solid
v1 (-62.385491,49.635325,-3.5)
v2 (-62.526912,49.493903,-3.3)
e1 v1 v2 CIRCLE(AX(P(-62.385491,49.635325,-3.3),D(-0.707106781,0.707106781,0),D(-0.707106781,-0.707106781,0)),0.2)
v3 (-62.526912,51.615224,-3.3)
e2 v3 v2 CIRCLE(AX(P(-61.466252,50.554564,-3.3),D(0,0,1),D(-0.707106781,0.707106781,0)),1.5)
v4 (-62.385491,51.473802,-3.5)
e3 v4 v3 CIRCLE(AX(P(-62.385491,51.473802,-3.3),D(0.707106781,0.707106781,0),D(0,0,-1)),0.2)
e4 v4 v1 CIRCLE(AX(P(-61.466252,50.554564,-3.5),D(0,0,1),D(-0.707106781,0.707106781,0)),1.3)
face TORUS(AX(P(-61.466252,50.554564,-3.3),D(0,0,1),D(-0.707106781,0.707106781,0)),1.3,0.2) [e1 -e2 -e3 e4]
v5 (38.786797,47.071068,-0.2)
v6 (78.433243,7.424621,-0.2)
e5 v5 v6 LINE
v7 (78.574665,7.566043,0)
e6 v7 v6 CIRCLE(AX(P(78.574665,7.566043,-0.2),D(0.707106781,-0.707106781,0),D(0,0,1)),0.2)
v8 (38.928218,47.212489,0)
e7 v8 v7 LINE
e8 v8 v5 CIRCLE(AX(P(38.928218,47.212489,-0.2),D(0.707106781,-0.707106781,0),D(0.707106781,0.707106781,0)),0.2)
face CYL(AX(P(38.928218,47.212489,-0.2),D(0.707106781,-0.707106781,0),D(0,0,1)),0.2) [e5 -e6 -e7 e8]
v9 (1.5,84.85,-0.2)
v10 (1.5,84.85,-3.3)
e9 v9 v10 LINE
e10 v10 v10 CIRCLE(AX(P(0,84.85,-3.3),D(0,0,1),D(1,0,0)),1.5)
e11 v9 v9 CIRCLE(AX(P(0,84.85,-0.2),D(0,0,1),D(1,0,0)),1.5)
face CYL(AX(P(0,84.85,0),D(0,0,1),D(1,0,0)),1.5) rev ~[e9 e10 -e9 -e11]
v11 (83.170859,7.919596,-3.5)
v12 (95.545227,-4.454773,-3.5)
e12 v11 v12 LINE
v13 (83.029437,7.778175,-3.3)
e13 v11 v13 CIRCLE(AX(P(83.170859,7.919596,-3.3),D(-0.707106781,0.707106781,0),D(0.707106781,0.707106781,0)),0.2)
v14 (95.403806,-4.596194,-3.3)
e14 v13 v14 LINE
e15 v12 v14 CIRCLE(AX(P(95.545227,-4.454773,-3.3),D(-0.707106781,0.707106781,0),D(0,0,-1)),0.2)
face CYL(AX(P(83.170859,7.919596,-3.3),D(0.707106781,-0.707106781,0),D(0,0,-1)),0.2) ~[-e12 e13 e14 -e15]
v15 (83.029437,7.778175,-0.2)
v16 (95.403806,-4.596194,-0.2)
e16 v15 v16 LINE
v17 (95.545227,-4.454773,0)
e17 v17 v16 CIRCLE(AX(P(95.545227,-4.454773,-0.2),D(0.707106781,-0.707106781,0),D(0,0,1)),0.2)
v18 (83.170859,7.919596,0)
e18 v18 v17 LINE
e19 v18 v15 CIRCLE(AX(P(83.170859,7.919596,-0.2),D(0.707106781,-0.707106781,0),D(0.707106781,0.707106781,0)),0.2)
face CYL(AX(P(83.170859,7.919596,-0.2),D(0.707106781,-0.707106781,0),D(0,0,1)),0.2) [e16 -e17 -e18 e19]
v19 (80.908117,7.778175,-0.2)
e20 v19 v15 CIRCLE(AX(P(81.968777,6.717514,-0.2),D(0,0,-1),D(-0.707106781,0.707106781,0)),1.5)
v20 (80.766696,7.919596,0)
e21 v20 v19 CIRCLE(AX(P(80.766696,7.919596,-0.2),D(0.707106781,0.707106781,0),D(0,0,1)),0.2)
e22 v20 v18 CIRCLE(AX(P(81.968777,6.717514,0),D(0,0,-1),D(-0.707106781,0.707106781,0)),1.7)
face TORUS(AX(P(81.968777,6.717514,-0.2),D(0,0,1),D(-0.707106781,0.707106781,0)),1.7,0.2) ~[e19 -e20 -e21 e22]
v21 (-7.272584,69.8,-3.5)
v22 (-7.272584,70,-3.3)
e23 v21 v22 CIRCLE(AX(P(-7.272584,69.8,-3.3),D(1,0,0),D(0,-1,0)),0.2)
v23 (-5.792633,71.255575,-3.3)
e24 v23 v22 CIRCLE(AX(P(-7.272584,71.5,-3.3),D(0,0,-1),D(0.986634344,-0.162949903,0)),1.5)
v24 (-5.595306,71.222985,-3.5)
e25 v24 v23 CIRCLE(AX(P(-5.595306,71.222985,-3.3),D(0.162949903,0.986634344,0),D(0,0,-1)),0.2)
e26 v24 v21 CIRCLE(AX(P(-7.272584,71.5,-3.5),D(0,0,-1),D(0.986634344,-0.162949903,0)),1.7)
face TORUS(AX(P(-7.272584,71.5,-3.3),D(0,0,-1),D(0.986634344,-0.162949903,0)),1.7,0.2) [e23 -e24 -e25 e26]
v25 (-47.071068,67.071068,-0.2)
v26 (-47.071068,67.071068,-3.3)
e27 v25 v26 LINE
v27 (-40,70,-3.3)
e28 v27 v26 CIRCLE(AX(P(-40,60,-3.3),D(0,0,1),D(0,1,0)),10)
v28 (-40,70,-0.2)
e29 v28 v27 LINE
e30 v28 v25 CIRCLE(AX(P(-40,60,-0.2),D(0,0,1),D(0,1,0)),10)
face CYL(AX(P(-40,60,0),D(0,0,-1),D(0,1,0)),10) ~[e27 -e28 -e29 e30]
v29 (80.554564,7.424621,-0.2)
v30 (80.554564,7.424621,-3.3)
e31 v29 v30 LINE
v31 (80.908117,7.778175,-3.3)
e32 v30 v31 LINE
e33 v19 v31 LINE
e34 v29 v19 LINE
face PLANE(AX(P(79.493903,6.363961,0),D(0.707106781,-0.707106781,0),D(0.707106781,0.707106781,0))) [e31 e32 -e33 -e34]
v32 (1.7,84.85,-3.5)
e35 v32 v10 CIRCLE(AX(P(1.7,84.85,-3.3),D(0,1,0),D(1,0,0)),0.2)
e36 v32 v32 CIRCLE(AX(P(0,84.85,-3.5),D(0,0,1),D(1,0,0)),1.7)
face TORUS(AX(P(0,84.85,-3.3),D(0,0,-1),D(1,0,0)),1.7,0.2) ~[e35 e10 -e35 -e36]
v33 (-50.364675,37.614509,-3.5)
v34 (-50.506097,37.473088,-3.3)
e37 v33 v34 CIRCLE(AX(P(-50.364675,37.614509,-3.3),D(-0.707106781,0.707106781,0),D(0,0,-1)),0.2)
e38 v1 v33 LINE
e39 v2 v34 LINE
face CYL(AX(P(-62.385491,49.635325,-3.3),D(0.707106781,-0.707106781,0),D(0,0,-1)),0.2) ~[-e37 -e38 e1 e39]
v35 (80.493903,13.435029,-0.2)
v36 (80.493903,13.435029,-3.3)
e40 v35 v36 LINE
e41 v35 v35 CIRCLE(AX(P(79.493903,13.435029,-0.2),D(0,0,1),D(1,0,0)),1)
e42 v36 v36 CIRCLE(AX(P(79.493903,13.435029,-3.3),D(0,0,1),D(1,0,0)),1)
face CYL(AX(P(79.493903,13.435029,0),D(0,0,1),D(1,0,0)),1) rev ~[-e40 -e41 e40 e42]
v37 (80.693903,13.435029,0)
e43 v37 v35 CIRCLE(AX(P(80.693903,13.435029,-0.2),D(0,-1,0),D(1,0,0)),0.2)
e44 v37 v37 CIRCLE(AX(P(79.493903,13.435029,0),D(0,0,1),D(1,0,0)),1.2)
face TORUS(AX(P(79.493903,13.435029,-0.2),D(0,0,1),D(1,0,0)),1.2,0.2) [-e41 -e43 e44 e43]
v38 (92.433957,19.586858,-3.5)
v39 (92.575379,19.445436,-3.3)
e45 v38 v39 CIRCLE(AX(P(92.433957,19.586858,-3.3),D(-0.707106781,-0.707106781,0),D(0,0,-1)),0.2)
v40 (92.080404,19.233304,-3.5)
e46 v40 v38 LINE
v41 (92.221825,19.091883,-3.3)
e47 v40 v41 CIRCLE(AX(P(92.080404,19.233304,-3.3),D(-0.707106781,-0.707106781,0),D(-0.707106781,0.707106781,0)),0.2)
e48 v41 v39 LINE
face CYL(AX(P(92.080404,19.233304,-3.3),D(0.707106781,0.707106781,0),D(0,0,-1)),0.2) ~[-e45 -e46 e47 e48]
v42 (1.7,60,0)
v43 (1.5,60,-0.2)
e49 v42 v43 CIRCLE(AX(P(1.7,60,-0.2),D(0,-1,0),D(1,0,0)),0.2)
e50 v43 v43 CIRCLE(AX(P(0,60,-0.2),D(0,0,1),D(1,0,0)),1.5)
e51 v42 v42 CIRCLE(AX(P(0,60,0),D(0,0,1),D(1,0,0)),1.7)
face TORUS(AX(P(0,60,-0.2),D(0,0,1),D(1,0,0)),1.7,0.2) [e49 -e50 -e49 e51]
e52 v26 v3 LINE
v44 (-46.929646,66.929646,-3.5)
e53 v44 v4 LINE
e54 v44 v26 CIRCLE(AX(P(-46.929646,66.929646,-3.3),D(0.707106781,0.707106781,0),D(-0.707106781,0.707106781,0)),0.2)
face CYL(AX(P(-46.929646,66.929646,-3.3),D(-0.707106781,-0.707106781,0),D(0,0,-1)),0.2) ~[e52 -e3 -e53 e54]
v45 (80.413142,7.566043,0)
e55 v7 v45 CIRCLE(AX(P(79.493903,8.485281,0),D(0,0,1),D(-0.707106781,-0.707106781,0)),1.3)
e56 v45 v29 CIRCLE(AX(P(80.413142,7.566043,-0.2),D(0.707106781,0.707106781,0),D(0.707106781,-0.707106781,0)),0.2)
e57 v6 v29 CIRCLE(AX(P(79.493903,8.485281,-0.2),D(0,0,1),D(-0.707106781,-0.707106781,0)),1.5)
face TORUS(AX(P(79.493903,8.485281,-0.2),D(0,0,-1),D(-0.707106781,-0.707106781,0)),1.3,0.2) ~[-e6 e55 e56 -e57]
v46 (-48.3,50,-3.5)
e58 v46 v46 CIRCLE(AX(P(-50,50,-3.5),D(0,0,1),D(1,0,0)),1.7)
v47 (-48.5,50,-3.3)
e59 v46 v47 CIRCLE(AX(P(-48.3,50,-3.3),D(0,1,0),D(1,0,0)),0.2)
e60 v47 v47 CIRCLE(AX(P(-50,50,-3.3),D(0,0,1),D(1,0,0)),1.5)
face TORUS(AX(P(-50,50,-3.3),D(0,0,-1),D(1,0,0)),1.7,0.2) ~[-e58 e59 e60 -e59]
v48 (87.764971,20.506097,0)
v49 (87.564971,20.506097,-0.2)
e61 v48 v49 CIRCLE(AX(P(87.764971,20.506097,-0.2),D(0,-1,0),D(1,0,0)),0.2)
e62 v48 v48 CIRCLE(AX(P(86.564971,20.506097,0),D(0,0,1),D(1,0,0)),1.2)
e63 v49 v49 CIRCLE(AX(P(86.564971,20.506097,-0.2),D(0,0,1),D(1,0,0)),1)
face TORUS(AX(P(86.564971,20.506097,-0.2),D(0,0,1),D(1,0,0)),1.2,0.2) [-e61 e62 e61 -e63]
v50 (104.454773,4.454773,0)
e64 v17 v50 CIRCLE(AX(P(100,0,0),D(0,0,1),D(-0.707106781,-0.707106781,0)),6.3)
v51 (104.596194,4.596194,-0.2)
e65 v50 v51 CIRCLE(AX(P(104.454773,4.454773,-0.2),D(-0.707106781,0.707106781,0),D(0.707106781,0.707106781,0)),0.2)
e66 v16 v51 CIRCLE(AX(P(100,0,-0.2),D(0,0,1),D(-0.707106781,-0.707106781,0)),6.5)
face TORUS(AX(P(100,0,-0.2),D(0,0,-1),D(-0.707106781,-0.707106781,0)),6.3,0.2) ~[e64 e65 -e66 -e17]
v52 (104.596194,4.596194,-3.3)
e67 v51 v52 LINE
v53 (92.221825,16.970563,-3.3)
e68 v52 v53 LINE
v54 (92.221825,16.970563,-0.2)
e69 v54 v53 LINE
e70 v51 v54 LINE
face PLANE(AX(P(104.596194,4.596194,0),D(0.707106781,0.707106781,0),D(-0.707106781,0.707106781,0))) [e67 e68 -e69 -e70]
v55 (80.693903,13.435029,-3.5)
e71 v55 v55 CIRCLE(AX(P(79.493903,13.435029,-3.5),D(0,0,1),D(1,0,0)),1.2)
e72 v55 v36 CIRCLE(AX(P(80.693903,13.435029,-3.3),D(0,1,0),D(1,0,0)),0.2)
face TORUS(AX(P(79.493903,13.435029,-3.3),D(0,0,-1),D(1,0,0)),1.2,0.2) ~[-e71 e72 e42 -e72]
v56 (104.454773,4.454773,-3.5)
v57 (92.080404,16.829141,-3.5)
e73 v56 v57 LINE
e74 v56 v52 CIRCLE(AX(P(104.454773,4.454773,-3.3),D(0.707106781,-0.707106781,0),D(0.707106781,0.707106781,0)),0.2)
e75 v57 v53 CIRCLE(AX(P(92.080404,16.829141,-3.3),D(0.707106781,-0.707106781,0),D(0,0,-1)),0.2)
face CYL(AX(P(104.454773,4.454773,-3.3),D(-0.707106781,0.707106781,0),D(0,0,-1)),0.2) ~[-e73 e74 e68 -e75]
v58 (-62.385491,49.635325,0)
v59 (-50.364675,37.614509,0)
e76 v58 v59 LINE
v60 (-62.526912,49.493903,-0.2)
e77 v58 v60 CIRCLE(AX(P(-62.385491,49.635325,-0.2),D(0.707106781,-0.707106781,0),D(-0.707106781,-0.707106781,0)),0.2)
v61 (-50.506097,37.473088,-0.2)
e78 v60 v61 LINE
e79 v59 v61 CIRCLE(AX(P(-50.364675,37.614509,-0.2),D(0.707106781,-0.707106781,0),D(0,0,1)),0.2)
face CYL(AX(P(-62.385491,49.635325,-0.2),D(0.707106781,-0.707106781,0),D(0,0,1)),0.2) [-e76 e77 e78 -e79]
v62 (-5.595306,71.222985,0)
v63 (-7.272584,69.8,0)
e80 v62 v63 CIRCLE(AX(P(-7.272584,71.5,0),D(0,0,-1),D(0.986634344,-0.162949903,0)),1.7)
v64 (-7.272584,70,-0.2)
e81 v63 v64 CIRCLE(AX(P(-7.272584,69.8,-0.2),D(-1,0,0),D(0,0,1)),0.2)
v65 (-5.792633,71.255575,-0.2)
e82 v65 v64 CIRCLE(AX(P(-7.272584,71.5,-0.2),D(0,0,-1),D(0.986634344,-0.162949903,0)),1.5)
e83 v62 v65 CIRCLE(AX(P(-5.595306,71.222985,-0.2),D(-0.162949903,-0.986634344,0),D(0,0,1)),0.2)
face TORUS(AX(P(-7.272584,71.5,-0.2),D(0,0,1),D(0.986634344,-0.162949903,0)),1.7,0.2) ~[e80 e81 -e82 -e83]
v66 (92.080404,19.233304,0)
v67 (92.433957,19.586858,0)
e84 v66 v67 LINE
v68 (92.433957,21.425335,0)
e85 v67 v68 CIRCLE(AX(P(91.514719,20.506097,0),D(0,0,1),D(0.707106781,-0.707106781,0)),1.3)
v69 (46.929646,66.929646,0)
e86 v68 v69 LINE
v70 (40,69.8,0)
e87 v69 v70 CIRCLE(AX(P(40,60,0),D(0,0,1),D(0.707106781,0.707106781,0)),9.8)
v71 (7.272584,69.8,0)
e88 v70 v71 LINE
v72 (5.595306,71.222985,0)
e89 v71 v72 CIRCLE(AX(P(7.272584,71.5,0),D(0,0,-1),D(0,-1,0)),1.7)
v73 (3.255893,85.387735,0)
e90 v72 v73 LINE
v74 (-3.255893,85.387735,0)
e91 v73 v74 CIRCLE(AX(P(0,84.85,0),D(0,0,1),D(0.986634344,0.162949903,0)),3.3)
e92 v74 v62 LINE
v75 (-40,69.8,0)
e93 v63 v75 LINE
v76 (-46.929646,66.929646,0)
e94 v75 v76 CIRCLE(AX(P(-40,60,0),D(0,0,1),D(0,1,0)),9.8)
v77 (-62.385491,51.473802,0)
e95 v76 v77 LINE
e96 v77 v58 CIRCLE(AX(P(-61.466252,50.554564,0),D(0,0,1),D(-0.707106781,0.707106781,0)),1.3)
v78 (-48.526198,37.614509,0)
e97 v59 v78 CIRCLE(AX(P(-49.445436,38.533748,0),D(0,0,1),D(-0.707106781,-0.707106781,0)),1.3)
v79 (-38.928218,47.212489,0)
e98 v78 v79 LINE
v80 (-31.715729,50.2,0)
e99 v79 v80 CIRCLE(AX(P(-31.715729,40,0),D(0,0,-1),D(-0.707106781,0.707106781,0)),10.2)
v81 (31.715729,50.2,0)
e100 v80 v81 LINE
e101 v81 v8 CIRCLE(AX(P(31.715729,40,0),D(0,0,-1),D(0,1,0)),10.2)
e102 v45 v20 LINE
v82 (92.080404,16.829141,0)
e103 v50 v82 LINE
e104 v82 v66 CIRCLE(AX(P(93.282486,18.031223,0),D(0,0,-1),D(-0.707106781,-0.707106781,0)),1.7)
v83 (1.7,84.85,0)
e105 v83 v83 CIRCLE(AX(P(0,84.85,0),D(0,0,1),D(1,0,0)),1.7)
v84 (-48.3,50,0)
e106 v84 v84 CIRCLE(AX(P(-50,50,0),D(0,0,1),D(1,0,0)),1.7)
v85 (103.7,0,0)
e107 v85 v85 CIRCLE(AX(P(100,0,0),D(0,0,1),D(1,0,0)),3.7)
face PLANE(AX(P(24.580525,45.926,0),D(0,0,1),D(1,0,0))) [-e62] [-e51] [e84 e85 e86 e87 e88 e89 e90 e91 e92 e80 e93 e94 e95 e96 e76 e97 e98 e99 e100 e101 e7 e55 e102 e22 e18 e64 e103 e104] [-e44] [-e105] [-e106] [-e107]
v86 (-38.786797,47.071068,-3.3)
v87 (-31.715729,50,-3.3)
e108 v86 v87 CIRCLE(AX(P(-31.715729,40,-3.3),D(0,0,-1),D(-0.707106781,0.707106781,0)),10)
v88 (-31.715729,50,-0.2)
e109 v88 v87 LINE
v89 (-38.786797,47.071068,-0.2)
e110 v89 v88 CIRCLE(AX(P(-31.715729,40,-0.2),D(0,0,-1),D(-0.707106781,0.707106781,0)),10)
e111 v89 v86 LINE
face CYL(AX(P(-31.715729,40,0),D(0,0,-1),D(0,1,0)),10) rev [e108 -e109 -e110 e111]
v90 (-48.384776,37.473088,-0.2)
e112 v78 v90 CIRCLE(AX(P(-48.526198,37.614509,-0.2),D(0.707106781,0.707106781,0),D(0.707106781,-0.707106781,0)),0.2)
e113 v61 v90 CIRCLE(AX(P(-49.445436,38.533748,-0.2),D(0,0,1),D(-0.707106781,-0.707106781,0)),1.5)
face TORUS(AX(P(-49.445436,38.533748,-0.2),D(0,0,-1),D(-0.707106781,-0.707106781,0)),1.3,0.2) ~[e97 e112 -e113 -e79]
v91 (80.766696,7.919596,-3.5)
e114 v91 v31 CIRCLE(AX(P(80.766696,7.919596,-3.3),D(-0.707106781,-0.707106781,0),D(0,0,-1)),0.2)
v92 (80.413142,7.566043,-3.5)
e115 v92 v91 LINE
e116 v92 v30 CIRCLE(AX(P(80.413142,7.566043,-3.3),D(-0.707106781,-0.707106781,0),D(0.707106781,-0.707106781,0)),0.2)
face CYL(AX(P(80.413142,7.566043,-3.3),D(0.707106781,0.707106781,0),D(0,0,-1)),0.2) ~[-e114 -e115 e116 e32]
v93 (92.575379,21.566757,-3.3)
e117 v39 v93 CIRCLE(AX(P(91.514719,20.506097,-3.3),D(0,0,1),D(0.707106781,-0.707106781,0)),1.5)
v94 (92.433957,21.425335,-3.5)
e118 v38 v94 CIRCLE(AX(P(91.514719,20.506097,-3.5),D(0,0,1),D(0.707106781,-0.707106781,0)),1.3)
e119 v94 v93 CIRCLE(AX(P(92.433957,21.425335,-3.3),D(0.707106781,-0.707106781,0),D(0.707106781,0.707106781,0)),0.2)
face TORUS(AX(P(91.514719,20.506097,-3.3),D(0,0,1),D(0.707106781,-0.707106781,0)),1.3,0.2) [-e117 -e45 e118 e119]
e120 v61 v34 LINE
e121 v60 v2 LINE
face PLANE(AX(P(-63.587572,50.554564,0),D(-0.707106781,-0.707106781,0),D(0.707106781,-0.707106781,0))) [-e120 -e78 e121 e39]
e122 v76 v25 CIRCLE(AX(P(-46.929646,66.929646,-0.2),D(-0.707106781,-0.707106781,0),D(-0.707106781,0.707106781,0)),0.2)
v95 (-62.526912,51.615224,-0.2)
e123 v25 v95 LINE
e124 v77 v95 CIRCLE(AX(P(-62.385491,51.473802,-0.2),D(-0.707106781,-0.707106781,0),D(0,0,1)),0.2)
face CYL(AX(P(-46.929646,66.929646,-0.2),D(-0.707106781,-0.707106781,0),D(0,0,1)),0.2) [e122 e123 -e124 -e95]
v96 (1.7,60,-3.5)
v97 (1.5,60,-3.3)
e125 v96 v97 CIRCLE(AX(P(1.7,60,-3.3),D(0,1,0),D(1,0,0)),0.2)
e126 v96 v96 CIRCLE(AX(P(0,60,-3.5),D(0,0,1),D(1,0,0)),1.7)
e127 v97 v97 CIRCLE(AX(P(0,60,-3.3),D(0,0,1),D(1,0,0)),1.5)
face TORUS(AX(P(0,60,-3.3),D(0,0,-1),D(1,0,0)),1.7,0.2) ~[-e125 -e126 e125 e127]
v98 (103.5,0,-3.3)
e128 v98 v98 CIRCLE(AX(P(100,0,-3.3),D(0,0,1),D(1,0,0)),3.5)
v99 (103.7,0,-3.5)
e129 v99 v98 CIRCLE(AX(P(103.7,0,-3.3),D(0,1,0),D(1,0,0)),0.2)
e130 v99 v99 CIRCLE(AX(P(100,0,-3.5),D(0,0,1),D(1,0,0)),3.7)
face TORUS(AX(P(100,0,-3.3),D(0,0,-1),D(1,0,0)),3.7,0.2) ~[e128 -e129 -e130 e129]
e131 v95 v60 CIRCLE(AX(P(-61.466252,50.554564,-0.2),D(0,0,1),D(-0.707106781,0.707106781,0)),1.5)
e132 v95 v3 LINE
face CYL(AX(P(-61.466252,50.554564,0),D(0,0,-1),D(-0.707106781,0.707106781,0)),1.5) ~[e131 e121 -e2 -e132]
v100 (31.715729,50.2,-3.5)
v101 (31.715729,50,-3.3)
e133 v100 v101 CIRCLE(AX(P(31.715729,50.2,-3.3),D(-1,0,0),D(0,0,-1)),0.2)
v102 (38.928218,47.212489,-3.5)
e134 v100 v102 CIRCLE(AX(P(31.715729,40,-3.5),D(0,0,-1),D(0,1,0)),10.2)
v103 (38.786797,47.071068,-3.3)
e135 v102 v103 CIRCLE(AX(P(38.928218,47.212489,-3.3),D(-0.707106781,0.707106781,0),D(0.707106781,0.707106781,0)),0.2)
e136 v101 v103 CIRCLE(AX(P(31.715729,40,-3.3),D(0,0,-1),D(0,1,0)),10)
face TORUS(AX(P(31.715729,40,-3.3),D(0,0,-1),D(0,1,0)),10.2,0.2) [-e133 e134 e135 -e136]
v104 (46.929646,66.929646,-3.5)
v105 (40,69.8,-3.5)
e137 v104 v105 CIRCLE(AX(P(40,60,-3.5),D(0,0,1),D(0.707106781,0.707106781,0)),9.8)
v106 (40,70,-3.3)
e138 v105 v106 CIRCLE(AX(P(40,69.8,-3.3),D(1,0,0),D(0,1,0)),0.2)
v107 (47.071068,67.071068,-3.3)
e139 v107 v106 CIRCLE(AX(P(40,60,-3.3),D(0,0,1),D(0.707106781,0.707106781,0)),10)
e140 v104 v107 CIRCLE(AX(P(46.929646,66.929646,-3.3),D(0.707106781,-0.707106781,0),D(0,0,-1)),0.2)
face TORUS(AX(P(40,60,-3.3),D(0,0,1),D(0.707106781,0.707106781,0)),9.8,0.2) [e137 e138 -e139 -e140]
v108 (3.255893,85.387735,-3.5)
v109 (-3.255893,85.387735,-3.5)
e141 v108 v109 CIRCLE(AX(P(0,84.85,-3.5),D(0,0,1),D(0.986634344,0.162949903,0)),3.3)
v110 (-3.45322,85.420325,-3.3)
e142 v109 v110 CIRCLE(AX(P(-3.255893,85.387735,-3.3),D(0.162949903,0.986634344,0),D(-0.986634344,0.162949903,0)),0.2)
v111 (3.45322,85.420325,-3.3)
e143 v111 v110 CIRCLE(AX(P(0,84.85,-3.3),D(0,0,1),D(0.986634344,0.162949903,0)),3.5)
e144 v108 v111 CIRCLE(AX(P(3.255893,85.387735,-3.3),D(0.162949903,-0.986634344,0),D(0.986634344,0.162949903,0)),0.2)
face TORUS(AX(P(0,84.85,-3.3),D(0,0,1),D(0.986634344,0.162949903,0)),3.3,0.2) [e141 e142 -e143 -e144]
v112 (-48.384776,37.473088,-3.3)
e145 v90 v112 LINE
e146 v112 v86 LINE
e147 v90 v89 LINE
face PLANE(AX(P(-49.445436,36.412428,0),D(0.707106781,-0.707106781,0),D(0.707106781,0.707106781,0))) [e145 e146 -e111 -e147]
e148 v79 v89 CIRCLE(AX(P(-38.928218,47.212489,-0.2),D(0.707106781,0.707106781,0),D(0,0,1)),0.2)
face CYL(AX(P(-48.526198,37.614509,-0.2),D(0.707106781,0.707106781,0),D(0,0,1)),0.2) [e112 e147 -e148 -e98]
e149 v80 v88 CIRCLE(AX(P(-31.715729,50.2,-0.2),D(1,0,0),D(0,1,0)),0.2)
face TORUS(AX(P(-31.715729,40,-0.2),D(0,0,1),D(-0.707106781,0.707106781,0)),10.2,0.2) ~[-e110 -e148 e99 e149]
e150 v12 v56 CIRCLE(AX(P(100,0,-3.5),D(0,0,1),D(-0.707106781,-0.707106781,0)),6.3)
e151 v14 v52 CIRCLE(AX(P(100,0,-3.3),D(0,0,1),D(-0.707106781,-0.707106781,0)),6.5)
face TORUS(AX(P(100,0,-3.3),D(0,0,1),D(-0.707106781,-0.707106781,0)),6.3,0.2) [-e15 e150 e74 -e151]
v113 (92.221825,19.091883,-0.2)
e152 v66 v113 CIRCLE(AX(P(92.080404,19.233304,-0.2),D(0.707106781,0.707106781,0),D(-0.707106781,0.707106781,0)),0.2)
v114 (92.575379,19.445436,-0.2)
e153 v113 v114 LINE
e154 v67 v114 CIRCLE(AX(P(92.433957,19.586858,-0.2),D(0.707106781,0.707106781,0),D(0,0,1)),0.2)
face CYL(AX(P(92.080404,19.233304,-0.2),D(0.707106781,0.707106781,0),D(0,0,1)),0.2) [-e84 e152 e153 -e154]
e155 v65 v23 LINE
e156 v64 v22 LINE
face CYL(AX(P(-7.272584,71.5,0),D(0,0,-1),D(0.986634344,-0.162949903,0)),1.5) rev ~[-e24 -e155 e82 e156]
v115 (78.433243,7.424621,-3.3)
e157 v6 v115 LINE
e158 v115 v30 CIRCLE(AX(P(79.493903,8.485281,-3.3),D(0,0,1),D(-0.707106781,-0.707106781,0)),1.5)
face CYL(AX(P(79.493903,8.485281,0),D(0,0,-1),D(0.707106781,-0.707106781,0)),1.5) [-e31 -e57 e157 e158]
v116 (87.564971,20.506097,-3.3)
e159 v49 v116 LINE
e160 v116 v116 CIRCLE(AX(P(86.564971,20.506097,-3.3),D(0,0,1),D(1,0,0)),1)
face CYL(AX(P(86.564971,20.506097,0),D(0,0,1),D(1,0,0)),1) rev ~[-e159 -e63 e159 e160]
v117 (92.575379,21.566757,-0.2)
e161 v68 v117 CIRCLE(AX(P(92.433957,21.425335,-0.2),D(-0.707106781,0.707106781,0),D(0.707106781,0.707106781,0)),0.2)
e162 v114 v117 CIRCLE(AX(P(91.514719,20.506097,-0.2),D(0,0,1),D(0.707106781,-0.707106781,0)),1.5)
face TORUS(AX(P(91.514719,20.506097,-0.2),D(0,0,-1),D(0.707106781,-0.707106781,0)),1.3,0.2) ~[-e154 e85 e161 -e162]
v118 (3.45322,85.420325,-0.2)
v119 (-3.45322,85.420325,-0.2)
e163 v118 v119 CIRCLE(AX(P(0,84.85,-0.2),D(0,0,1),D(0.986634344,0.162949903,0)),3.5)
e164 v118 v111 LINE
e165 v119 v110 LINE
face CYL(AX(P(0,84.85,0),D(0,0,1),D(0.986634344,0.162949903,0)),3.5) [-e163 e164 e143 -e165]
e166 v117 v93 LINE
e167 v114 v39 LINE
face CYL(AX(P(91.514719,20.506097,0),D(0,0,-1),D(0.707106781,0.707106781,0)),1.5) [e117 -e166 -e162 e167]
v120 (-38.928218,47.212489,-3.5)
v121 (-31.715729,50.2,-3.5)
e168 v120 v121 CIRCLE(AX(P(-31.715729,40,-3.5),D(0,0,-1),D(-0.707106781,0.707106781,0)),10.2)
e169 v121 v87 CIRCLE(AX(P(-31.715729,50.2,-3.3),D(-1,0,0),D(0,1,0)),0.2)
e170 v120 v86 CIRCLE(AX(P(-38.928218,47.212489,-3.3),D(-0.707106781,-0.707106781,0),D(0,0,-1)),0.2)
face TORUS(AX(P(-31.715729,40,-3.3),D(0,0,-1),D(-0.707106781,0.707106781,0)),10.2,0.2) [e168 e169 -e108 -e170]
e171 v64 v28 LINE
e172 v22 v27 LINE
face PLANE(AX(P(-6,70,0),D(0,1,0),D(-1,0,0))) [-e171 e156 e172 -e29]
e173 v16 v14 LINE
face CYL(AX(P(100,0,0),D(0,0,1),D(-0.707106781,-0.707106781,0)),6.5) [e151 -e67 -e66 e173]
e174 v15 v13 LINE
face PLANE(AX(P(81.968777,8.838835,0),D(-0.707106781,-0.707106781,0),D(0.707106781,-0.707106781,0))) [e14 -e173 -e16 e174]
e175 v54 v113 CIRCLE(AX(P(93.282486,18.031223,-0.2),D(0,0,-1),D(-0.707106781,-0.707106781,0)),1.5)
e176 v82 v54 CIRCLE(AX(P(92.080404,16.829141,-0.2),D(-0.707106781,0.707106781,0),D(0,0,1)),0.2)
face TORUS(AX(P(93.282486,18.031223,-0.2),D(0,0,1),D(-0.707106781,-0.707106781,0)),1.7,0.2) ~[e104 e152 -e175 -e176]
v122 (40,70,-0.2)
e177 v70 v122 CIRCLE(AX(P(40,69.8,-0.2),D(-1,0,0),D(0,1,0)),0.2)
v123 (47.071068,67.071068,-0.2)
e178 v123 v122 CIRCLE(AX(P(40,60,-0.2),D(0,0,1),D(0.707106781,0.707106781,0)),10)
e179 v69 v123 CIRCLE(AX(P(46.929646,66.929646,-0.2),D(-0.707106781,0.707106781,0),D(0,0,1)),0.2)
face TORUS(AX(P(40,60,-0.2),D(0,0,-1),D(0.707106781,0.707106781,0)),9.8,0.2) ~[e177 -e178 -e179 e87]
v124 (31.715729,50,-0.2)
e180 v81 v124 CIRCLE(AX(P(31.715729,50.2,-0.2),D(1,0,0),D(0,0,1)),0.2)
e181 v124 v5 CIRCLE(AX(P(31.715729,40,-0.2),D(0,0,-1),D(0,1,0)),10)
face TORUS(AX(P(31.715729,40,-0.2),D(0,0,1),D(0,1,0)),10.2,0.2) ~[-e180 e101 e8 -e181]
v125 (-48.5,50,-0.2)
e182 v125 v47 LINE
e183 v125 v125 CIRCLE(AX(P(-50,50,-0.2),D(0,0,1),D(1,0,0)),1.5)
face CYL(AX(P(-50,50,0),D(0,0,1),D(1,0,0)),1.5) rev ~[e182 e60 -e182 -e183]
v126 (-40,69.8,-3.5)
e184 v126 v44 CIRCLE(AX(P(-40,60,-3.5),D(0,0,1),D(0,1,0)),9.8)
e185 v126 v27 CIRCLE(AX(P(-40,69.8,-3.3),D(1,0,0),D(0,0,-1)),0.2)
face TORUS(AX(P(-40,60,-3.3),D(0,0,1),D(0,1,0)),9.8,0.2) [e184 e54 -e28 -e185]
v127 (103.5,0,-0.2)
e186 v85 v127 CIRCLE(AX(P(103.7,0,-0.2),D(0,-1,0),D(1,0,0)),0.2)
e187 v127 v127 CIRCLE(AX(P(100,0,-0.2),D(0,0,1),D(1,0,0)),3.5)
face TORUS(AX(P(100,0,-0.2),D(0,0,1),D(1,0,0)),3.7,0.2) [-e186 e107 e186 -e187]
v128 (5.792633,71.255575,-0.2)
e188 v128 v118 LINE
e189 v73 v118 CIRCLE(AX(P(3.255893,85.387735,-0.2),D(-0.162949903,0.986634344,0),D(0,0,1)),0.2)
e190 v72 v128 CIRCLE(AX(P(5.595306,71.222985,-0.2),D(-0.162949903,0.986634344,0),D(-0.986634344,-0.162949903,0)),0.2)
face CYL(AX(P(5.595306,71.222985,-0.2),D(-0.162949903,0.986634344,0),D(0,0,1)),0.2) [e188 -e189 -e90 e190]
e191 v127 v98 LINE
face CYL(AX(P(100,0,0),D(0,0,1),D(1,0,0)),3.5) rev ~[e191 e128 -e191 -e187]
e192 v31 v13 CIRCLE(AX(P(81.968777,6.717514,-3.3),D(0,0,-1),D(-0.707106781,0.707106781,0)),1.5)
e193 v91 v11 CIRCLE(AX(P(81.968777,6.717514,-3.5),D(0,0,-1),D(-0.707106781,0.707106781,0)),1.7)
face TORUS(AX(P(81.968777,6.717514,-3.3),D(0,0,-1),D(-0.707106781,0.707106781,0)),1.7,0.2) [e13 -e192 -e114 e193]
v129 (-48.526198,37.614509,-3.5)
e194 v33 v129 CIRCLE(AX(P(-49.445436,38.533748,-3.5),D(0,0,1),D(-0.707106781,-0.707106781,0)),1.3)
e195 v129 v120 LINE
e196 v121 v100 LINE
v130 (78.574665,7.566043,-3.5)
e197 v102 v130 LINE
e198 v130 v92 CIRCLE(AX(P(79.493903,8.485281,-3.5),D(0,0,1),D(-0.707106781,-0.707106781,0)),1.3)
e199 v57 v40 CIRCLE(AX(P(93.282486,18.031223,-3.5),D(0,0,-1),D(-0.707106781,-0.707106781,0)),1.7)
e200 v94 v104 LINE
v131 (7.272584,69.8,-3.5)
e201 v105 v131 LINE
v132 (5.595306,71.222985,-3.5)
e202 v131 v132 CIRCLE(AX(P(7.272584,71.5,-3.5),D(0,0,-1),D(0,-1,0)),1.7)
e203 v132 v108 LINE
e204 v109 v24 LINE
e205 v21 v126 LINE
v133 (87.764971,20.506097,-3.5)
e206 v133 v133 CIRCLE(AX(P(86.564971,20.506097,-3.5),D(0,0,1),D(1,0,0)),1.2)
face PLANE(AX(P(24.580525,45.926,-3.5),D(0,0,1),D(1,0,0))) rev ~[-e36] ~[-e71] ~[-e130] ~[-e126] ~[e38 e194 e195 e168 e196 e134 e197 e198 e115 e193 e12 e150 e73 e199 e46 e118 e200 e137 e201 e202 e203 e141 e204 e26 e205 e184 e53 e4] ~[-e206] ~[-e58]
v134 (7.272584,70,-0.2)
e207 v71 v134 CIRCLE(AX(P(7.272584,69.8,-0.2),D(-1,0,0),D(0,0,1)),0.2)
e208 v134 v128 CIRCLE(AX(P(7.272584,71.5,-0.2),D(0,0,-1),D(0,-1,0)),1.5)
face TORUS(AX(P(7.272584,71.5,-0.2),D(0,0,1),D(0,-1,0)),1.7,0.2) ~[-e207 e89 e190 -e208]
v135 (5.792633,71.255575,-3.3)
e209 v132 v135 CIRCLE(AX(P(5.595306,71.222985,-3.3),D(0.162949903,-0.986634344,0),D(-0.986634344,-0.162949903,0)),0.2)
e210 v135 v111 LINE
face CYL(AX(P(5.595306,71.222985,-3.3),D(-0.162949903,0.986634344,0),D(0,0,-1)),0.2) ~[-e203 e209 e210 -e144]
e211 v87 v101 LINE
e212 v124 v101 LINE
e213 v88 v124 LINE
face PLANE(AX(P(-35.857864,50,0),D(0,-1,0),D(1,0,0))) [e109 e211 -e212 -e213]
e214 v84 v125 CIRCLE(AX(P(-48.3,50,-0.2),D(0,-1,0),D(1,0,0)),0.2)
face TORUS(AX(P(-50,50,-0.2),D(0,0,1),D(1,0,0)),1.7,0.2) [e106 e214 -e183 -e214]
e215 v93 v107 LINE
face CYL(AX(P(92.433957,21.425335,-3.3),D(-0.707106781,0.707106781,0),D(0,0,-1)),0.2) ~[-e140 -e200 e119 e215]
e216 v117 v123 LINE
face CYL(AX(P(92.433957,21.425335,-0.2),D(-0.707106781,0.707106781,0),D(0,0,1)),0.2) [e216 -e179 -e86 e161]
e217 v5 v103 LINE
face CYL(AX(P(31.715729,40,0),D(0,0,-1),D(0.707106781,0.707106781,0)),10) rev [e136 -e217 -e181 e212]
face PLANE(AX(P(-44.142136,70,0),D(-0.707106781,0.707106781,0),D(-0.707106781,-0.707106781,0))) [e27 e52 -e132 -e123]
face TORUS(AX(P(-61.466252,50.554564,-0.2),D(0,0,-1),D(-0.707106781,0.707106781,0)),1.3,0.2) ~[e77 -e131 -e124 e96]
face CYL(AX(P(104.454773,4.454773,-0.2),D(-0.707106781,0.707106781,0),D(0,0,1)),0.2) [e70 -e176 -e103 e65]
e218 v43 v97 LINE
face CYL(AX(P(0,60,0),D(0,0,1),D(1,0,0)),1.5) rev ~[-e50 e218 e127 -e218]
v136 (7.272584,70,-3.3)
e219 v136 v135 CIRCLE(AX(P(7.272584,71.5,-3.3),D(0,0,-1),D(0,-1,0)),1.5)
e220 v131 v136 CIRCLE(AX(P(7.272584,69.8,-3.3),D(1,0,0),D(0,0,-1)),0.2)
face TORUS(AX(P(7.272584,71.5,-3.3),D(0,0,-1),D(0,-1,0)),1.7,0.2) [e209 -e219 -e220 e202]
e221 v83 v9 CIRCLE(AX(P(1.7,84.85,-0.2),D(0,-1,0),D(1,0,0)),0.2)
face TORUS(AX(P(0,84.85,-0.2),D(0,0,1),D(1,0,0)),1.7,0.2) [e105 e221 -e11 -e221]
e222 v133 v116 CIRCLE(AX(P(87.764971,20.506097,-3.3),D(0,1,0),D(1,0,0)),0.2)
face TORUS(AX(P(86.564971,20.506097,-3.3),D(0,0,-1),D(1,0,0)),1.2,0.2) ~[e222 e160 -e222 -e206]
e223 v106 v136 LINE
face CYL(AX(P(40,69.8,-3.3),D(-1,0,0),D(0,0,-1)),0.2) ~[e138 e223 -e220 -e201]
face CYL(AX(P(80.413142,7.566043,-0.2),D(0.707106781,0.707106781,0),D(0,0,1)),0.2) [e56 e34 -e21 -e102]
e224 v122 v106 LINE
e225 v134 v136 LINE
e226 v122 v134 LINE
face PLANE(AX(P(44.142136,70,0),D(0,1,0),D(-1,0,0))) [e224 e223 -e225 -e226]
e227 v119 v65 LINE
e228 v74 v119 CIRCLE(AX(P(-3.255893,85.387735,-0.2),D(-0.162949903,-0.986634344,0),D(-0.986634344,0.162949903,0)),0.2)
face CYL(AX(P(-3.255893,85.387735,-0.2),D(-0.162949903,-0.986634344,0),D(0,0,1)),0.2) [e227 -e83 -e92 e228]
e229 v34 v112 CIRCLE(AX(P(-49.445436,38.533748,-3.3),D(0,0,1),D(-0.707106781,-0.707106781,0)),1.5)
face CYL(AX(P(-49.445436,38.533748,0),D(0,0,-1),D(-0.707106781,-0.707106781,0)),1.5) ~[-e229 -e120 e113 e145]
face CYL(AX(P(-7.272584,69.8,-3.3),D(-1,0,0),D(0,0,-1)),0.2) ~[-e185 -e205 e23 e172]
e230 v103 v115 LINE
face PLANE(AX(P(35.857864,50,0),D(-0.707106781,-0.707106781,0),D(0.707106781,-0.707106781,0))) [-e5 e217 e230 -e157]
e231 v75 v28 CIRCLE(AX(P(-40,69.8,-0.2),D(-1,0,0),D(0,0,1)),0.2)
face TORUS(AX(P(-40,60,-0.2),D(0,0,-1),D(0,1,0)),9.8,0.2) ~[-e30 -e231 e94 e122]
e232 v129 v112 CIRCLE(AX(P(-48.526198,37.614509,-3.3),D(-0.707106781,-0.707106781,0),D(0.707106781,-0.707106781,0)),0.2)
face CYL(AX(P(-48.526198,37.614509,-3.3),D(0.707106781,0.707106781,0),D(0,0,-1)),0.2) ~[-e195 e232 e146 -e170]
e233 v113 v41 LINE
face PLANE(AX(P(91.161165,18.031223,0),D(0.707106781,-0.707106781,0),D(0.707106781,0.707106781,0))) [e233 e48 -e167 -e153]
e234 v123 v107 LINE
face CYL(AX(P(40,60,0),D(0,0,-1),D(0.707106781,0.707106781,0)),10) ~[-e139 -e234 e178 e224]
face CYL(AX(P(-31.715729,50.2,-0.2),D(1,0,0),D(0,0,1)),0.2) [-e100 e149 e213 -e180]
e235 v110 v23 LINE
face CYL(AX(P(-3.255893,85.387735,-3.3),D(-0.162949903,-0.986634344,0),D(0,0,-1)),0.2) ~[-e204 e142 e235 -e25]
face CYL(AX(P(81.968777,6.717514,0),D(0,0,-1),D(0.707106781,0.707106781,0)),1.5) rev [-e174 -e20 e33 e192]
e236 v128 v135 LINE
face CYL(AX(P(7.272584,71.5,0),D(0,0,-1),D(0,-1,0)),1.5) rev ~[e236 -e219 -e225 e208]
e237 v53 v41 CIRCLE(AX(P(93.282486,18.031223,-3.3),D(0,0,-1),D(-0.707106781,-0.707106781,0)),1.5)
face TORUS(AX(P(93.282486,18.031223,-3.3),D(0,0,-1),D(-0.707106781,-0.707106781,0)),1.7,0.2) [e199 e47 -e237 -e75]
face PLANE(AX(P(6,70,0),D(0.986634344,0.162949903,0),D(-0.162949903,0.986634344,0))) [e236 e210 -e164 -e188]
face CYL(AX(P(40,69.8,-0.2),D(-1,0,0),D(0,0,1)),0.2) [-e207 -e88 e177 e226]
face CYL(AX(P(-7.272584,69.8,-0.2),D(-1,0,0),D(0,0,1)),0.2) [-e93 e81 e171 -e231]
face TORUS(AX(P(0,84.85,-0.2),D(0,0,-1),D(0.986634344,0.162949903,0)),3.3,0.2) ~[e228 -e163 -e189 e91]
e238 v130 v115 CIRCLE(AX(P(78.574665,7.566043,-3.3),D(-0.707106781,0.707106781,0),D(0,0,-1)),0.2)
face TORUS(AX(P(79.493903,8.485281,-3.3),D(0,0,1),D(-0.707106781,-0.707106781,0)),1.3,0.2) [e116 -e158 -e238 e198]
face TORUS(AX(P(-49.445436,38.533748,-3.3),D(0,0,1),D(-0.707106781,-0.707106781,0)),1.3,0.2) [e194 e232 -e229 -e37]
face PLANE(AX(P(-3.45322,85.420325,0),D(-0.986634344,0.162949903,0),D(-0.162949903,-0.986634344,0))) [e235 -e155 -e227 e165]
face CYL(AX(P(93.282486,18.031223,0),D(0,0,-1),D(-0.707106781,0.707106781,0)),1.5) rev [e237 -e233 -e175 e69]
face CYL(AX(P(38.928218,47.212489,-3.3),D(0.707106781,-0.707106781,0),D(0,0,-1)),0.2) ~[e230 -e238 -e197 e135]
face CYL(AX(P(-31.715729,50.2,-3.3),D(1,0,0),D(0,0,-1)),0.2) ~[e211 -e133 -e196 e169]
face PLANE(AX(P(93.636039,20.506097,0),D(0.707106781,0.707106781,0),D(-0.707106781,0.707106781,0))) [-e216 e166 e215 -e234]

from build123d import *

# Parameters (mm, degrees)
SKETCH5_R           = 3.5
SKETCH5_R_2         = 1.5
SKETCH5_R_3         = 1
BOSS_EXTRUDE1_DEPTH = 3.5
FILLET1_R           = 10
FILLET2_R           = 1.5
FILLET3_R           = 0.2


with BuildPart() as part:
    # Sketch5 → Boss-Extrude1 (new body)
    with BuildSketch(Plane.XY):
        with BuildLine():
            Line((104.596194078, 4.596194078), (91.161165235, 18.03122292))
            Line((91.161165235, 18.03122292), (93.636038969, 20.506096654))
            Line((93.636038969, 20.506096654), (44.142135624, 70))
            Line((44.142135624, 70), (6, 70))
            Line((6, 70), (3.453220204, 85.420324662))
            ThreePointArc((3.453220204, 85.420324662), (0, 88.35), (-3.453220204, 85.420324662))
            Line((-3.453220204, 85.420324662), (-6, 70))
            Line((-6, 70), (-44.142135624, 70))
            Line((-44.142135624, 70), (-63.587572106, 50.554563517))
            Line((-63.587572106, 50.554563517), (-49.445436483, 36.412427894))
            Line((-49.445436483, 36.412427894), (-35.857864376, 50))
            Line((-35.857864376, 50), (35.857864376, 50))
            Line((35.857864376, 50), (79.493903346, 6.363961031))
            Line((79.493903346, 6.363961031), (81.96877708, 8.838834765))
            Line((81.96877708, 8.838834765), (95.403805922, -4.596194078))
            ThreePointArc((95.403805922, -4.596194078), (104.596194078, -4.596194078), (104.596194078, 4.596194078))
        make_face()
        with Locations((100, 0)):
            Circle(SKETCH5_R, mode=Mode.SUBTRACT)
        with Locations((0, 60)):
            Circle(SKETCH5_R_2, mode=Mode.SUBTRACT)
        with Locations((0, 84.85)):
            Circle(SKETCH5_R_2, mode=Mode.SUBTRACT)
        with Locations((86.564971157, 20.506096654)):
            Circle(SKETCH5_R_3, mode=Mode.SUBTRACT)
        with Locations((79.493903346, 13.435028843)):
            Circle(SKETCH5_R_3, mode=Mode.SUBTRACT)
        with Locations((-50, 50)):
            Circle(SKETCH5_R_2, mode=Mode.SUBTRACT)
    extrude(amount=-BOSS_EXTRUDE1_DEPTH)

    # Fillet1
    fillet1_edges = [part.edges().sort_by_distance(p)[0] for p in [
        (44.142135624, 70, -1.75),
        (35.857864376, 50, -1.75),
        (-35.857864376, 50, -1.75),
        (-44.142135624, 70, -1.75),
    ]]
    fillet(fillet1_edges, radius=FILLET1_R)

    # Fillet2
    fillet2_edges = [part.edges().sort_by_distance(p)[0] for p in [
        (93.636038969, 20.506096654, -1.75),
        (91.161165235, 18.03122292, -1.75),
        (81.96877708, 8.838834765, -1.75),
        (79.493903346, 6.363961031, -1.75),
        (-49.445436483, 36.412427894, -1.75),
        (-63.587572106, 50.554563517, -1.75),
        (-6, 70, -1.75),
        (6, 70, -1.75),
    ]]
    fillet(fillet2_edges, radius=FILLET2_R)

    # Fillet3
    fillet3_edges = [part.edges().sort_by_distance(p)[0] for p in [
        (0, 88.35, -3.5),
        (-23.636292033, 70, 0),
        (-43.585786438, 42.272077939, 0),
        (80.731340213, 7.601397898, 0),
        (89.216621587, 1.590990258, 0),
        (92.398602102, 19.268659787, 0),
        (79.493903346, 6.985281374, 0),
        (93.014718626, 20.506096654, 0),
        (-62.966251763, 50.554563517, 0),
        (-49.445436483, 37.033748237, 0),
        (-43.585786438, 42.272077939, -3.5),
        (69.823223305, 44.318912319, -3.5),
        (92.398602102, 19.268659787, -3.5),
        (89.216621587, 1.590990258, -3.5),
        (80.731340213, 7.601397898, -3.5),
        (-23.636292033, 70, -3.5),
        (4.622926377, 78.337949903, -3.5),
        (79.493903346, 6.985281374, -3.5),
        (93.014718626, 20.506096654, -3.5),
        (-62.966251763, 50.554563517, -3.5),
        (-49.445436483, 37.033748237, -3.5),
        (-6.302181387, 70.356182427, 0),
        (-6.302181387, 70.356182427, -3.5),
        (6.302181387, 70.356182427, 0),
        (6.302181387, 70.356182427, -3.5),
        (91.782485579, 18.03122292, 0),
        (91.782485579, 18.03122292, -3.5),
        (81.96877708, 8.217514421, 0),
        (81.96877708, 8.217514421, -3.5),
        (-4.622926377, 78.337949903, -3.5),
        (98.409009742, 10.783378413, 0),
        (104.596194078, -4.596194078, 0),
        (-4.622926377, 78.337949903, 0),
        (0, 88.35, 0),
        (96.5, 0, -3.5),
        (96.5, 0, 0),
        (104.596194078, -4.596194078, -3.5),
        (-1.5, 60, -3.5),
        (-1.5, 60, 0),
        (98.409009742, 10.783378413, -3.5),
        (-1.5, 84.85, -3.5),
        (-1.5, 84.85, 0),
        (85.564971157, 20.506096654, -3.5),
        (85.564971157, 20.506096654, 0),
        (78.493903346, 13.435028843, -3.5),
        (78.493903346, 13.435028843, 0),
        (-51.5, 50, -3.5),
        (-51.5, 50, 0),
        (0, 50, 0),
        (0, 50, -3.5),
        (58.610019869, 27.247844507, 0),
        (58.610019869, 27.247844507, -3.5),
        (23.636292033, 70, 0),
        (-54.798989873, 59.343145751, 0),
        (-43.826834324, 69.238795325, 0),
        (43.826834324, 69.238795325, 0),
        (23.636292033, 70, -3.5),
        (-54.798989873, 59.343145751, -3.5),
        (-43.826834324, 69.238795325, -3.5),
        (43.826834324, 69.238795325, -3.5),
        (-35.542563076, 49.238795325, 0),
        (-35.542563076, 49.238795325, -3.5),
        (35.542563076, 49.238795325, 0),
        (35.542563076, 49.238795325, -3.5),
        (-56.516504294, 43.483495706, 0),
        (-56.516504294, 43.483495706, -3.5),
        (69.823223305, 44.318912319, 0),
        (4.622926377, 78.337949903, 0),
    ]]
    fillet(fillet3_edges, radius=FILLET3_R)


solid = part.part
